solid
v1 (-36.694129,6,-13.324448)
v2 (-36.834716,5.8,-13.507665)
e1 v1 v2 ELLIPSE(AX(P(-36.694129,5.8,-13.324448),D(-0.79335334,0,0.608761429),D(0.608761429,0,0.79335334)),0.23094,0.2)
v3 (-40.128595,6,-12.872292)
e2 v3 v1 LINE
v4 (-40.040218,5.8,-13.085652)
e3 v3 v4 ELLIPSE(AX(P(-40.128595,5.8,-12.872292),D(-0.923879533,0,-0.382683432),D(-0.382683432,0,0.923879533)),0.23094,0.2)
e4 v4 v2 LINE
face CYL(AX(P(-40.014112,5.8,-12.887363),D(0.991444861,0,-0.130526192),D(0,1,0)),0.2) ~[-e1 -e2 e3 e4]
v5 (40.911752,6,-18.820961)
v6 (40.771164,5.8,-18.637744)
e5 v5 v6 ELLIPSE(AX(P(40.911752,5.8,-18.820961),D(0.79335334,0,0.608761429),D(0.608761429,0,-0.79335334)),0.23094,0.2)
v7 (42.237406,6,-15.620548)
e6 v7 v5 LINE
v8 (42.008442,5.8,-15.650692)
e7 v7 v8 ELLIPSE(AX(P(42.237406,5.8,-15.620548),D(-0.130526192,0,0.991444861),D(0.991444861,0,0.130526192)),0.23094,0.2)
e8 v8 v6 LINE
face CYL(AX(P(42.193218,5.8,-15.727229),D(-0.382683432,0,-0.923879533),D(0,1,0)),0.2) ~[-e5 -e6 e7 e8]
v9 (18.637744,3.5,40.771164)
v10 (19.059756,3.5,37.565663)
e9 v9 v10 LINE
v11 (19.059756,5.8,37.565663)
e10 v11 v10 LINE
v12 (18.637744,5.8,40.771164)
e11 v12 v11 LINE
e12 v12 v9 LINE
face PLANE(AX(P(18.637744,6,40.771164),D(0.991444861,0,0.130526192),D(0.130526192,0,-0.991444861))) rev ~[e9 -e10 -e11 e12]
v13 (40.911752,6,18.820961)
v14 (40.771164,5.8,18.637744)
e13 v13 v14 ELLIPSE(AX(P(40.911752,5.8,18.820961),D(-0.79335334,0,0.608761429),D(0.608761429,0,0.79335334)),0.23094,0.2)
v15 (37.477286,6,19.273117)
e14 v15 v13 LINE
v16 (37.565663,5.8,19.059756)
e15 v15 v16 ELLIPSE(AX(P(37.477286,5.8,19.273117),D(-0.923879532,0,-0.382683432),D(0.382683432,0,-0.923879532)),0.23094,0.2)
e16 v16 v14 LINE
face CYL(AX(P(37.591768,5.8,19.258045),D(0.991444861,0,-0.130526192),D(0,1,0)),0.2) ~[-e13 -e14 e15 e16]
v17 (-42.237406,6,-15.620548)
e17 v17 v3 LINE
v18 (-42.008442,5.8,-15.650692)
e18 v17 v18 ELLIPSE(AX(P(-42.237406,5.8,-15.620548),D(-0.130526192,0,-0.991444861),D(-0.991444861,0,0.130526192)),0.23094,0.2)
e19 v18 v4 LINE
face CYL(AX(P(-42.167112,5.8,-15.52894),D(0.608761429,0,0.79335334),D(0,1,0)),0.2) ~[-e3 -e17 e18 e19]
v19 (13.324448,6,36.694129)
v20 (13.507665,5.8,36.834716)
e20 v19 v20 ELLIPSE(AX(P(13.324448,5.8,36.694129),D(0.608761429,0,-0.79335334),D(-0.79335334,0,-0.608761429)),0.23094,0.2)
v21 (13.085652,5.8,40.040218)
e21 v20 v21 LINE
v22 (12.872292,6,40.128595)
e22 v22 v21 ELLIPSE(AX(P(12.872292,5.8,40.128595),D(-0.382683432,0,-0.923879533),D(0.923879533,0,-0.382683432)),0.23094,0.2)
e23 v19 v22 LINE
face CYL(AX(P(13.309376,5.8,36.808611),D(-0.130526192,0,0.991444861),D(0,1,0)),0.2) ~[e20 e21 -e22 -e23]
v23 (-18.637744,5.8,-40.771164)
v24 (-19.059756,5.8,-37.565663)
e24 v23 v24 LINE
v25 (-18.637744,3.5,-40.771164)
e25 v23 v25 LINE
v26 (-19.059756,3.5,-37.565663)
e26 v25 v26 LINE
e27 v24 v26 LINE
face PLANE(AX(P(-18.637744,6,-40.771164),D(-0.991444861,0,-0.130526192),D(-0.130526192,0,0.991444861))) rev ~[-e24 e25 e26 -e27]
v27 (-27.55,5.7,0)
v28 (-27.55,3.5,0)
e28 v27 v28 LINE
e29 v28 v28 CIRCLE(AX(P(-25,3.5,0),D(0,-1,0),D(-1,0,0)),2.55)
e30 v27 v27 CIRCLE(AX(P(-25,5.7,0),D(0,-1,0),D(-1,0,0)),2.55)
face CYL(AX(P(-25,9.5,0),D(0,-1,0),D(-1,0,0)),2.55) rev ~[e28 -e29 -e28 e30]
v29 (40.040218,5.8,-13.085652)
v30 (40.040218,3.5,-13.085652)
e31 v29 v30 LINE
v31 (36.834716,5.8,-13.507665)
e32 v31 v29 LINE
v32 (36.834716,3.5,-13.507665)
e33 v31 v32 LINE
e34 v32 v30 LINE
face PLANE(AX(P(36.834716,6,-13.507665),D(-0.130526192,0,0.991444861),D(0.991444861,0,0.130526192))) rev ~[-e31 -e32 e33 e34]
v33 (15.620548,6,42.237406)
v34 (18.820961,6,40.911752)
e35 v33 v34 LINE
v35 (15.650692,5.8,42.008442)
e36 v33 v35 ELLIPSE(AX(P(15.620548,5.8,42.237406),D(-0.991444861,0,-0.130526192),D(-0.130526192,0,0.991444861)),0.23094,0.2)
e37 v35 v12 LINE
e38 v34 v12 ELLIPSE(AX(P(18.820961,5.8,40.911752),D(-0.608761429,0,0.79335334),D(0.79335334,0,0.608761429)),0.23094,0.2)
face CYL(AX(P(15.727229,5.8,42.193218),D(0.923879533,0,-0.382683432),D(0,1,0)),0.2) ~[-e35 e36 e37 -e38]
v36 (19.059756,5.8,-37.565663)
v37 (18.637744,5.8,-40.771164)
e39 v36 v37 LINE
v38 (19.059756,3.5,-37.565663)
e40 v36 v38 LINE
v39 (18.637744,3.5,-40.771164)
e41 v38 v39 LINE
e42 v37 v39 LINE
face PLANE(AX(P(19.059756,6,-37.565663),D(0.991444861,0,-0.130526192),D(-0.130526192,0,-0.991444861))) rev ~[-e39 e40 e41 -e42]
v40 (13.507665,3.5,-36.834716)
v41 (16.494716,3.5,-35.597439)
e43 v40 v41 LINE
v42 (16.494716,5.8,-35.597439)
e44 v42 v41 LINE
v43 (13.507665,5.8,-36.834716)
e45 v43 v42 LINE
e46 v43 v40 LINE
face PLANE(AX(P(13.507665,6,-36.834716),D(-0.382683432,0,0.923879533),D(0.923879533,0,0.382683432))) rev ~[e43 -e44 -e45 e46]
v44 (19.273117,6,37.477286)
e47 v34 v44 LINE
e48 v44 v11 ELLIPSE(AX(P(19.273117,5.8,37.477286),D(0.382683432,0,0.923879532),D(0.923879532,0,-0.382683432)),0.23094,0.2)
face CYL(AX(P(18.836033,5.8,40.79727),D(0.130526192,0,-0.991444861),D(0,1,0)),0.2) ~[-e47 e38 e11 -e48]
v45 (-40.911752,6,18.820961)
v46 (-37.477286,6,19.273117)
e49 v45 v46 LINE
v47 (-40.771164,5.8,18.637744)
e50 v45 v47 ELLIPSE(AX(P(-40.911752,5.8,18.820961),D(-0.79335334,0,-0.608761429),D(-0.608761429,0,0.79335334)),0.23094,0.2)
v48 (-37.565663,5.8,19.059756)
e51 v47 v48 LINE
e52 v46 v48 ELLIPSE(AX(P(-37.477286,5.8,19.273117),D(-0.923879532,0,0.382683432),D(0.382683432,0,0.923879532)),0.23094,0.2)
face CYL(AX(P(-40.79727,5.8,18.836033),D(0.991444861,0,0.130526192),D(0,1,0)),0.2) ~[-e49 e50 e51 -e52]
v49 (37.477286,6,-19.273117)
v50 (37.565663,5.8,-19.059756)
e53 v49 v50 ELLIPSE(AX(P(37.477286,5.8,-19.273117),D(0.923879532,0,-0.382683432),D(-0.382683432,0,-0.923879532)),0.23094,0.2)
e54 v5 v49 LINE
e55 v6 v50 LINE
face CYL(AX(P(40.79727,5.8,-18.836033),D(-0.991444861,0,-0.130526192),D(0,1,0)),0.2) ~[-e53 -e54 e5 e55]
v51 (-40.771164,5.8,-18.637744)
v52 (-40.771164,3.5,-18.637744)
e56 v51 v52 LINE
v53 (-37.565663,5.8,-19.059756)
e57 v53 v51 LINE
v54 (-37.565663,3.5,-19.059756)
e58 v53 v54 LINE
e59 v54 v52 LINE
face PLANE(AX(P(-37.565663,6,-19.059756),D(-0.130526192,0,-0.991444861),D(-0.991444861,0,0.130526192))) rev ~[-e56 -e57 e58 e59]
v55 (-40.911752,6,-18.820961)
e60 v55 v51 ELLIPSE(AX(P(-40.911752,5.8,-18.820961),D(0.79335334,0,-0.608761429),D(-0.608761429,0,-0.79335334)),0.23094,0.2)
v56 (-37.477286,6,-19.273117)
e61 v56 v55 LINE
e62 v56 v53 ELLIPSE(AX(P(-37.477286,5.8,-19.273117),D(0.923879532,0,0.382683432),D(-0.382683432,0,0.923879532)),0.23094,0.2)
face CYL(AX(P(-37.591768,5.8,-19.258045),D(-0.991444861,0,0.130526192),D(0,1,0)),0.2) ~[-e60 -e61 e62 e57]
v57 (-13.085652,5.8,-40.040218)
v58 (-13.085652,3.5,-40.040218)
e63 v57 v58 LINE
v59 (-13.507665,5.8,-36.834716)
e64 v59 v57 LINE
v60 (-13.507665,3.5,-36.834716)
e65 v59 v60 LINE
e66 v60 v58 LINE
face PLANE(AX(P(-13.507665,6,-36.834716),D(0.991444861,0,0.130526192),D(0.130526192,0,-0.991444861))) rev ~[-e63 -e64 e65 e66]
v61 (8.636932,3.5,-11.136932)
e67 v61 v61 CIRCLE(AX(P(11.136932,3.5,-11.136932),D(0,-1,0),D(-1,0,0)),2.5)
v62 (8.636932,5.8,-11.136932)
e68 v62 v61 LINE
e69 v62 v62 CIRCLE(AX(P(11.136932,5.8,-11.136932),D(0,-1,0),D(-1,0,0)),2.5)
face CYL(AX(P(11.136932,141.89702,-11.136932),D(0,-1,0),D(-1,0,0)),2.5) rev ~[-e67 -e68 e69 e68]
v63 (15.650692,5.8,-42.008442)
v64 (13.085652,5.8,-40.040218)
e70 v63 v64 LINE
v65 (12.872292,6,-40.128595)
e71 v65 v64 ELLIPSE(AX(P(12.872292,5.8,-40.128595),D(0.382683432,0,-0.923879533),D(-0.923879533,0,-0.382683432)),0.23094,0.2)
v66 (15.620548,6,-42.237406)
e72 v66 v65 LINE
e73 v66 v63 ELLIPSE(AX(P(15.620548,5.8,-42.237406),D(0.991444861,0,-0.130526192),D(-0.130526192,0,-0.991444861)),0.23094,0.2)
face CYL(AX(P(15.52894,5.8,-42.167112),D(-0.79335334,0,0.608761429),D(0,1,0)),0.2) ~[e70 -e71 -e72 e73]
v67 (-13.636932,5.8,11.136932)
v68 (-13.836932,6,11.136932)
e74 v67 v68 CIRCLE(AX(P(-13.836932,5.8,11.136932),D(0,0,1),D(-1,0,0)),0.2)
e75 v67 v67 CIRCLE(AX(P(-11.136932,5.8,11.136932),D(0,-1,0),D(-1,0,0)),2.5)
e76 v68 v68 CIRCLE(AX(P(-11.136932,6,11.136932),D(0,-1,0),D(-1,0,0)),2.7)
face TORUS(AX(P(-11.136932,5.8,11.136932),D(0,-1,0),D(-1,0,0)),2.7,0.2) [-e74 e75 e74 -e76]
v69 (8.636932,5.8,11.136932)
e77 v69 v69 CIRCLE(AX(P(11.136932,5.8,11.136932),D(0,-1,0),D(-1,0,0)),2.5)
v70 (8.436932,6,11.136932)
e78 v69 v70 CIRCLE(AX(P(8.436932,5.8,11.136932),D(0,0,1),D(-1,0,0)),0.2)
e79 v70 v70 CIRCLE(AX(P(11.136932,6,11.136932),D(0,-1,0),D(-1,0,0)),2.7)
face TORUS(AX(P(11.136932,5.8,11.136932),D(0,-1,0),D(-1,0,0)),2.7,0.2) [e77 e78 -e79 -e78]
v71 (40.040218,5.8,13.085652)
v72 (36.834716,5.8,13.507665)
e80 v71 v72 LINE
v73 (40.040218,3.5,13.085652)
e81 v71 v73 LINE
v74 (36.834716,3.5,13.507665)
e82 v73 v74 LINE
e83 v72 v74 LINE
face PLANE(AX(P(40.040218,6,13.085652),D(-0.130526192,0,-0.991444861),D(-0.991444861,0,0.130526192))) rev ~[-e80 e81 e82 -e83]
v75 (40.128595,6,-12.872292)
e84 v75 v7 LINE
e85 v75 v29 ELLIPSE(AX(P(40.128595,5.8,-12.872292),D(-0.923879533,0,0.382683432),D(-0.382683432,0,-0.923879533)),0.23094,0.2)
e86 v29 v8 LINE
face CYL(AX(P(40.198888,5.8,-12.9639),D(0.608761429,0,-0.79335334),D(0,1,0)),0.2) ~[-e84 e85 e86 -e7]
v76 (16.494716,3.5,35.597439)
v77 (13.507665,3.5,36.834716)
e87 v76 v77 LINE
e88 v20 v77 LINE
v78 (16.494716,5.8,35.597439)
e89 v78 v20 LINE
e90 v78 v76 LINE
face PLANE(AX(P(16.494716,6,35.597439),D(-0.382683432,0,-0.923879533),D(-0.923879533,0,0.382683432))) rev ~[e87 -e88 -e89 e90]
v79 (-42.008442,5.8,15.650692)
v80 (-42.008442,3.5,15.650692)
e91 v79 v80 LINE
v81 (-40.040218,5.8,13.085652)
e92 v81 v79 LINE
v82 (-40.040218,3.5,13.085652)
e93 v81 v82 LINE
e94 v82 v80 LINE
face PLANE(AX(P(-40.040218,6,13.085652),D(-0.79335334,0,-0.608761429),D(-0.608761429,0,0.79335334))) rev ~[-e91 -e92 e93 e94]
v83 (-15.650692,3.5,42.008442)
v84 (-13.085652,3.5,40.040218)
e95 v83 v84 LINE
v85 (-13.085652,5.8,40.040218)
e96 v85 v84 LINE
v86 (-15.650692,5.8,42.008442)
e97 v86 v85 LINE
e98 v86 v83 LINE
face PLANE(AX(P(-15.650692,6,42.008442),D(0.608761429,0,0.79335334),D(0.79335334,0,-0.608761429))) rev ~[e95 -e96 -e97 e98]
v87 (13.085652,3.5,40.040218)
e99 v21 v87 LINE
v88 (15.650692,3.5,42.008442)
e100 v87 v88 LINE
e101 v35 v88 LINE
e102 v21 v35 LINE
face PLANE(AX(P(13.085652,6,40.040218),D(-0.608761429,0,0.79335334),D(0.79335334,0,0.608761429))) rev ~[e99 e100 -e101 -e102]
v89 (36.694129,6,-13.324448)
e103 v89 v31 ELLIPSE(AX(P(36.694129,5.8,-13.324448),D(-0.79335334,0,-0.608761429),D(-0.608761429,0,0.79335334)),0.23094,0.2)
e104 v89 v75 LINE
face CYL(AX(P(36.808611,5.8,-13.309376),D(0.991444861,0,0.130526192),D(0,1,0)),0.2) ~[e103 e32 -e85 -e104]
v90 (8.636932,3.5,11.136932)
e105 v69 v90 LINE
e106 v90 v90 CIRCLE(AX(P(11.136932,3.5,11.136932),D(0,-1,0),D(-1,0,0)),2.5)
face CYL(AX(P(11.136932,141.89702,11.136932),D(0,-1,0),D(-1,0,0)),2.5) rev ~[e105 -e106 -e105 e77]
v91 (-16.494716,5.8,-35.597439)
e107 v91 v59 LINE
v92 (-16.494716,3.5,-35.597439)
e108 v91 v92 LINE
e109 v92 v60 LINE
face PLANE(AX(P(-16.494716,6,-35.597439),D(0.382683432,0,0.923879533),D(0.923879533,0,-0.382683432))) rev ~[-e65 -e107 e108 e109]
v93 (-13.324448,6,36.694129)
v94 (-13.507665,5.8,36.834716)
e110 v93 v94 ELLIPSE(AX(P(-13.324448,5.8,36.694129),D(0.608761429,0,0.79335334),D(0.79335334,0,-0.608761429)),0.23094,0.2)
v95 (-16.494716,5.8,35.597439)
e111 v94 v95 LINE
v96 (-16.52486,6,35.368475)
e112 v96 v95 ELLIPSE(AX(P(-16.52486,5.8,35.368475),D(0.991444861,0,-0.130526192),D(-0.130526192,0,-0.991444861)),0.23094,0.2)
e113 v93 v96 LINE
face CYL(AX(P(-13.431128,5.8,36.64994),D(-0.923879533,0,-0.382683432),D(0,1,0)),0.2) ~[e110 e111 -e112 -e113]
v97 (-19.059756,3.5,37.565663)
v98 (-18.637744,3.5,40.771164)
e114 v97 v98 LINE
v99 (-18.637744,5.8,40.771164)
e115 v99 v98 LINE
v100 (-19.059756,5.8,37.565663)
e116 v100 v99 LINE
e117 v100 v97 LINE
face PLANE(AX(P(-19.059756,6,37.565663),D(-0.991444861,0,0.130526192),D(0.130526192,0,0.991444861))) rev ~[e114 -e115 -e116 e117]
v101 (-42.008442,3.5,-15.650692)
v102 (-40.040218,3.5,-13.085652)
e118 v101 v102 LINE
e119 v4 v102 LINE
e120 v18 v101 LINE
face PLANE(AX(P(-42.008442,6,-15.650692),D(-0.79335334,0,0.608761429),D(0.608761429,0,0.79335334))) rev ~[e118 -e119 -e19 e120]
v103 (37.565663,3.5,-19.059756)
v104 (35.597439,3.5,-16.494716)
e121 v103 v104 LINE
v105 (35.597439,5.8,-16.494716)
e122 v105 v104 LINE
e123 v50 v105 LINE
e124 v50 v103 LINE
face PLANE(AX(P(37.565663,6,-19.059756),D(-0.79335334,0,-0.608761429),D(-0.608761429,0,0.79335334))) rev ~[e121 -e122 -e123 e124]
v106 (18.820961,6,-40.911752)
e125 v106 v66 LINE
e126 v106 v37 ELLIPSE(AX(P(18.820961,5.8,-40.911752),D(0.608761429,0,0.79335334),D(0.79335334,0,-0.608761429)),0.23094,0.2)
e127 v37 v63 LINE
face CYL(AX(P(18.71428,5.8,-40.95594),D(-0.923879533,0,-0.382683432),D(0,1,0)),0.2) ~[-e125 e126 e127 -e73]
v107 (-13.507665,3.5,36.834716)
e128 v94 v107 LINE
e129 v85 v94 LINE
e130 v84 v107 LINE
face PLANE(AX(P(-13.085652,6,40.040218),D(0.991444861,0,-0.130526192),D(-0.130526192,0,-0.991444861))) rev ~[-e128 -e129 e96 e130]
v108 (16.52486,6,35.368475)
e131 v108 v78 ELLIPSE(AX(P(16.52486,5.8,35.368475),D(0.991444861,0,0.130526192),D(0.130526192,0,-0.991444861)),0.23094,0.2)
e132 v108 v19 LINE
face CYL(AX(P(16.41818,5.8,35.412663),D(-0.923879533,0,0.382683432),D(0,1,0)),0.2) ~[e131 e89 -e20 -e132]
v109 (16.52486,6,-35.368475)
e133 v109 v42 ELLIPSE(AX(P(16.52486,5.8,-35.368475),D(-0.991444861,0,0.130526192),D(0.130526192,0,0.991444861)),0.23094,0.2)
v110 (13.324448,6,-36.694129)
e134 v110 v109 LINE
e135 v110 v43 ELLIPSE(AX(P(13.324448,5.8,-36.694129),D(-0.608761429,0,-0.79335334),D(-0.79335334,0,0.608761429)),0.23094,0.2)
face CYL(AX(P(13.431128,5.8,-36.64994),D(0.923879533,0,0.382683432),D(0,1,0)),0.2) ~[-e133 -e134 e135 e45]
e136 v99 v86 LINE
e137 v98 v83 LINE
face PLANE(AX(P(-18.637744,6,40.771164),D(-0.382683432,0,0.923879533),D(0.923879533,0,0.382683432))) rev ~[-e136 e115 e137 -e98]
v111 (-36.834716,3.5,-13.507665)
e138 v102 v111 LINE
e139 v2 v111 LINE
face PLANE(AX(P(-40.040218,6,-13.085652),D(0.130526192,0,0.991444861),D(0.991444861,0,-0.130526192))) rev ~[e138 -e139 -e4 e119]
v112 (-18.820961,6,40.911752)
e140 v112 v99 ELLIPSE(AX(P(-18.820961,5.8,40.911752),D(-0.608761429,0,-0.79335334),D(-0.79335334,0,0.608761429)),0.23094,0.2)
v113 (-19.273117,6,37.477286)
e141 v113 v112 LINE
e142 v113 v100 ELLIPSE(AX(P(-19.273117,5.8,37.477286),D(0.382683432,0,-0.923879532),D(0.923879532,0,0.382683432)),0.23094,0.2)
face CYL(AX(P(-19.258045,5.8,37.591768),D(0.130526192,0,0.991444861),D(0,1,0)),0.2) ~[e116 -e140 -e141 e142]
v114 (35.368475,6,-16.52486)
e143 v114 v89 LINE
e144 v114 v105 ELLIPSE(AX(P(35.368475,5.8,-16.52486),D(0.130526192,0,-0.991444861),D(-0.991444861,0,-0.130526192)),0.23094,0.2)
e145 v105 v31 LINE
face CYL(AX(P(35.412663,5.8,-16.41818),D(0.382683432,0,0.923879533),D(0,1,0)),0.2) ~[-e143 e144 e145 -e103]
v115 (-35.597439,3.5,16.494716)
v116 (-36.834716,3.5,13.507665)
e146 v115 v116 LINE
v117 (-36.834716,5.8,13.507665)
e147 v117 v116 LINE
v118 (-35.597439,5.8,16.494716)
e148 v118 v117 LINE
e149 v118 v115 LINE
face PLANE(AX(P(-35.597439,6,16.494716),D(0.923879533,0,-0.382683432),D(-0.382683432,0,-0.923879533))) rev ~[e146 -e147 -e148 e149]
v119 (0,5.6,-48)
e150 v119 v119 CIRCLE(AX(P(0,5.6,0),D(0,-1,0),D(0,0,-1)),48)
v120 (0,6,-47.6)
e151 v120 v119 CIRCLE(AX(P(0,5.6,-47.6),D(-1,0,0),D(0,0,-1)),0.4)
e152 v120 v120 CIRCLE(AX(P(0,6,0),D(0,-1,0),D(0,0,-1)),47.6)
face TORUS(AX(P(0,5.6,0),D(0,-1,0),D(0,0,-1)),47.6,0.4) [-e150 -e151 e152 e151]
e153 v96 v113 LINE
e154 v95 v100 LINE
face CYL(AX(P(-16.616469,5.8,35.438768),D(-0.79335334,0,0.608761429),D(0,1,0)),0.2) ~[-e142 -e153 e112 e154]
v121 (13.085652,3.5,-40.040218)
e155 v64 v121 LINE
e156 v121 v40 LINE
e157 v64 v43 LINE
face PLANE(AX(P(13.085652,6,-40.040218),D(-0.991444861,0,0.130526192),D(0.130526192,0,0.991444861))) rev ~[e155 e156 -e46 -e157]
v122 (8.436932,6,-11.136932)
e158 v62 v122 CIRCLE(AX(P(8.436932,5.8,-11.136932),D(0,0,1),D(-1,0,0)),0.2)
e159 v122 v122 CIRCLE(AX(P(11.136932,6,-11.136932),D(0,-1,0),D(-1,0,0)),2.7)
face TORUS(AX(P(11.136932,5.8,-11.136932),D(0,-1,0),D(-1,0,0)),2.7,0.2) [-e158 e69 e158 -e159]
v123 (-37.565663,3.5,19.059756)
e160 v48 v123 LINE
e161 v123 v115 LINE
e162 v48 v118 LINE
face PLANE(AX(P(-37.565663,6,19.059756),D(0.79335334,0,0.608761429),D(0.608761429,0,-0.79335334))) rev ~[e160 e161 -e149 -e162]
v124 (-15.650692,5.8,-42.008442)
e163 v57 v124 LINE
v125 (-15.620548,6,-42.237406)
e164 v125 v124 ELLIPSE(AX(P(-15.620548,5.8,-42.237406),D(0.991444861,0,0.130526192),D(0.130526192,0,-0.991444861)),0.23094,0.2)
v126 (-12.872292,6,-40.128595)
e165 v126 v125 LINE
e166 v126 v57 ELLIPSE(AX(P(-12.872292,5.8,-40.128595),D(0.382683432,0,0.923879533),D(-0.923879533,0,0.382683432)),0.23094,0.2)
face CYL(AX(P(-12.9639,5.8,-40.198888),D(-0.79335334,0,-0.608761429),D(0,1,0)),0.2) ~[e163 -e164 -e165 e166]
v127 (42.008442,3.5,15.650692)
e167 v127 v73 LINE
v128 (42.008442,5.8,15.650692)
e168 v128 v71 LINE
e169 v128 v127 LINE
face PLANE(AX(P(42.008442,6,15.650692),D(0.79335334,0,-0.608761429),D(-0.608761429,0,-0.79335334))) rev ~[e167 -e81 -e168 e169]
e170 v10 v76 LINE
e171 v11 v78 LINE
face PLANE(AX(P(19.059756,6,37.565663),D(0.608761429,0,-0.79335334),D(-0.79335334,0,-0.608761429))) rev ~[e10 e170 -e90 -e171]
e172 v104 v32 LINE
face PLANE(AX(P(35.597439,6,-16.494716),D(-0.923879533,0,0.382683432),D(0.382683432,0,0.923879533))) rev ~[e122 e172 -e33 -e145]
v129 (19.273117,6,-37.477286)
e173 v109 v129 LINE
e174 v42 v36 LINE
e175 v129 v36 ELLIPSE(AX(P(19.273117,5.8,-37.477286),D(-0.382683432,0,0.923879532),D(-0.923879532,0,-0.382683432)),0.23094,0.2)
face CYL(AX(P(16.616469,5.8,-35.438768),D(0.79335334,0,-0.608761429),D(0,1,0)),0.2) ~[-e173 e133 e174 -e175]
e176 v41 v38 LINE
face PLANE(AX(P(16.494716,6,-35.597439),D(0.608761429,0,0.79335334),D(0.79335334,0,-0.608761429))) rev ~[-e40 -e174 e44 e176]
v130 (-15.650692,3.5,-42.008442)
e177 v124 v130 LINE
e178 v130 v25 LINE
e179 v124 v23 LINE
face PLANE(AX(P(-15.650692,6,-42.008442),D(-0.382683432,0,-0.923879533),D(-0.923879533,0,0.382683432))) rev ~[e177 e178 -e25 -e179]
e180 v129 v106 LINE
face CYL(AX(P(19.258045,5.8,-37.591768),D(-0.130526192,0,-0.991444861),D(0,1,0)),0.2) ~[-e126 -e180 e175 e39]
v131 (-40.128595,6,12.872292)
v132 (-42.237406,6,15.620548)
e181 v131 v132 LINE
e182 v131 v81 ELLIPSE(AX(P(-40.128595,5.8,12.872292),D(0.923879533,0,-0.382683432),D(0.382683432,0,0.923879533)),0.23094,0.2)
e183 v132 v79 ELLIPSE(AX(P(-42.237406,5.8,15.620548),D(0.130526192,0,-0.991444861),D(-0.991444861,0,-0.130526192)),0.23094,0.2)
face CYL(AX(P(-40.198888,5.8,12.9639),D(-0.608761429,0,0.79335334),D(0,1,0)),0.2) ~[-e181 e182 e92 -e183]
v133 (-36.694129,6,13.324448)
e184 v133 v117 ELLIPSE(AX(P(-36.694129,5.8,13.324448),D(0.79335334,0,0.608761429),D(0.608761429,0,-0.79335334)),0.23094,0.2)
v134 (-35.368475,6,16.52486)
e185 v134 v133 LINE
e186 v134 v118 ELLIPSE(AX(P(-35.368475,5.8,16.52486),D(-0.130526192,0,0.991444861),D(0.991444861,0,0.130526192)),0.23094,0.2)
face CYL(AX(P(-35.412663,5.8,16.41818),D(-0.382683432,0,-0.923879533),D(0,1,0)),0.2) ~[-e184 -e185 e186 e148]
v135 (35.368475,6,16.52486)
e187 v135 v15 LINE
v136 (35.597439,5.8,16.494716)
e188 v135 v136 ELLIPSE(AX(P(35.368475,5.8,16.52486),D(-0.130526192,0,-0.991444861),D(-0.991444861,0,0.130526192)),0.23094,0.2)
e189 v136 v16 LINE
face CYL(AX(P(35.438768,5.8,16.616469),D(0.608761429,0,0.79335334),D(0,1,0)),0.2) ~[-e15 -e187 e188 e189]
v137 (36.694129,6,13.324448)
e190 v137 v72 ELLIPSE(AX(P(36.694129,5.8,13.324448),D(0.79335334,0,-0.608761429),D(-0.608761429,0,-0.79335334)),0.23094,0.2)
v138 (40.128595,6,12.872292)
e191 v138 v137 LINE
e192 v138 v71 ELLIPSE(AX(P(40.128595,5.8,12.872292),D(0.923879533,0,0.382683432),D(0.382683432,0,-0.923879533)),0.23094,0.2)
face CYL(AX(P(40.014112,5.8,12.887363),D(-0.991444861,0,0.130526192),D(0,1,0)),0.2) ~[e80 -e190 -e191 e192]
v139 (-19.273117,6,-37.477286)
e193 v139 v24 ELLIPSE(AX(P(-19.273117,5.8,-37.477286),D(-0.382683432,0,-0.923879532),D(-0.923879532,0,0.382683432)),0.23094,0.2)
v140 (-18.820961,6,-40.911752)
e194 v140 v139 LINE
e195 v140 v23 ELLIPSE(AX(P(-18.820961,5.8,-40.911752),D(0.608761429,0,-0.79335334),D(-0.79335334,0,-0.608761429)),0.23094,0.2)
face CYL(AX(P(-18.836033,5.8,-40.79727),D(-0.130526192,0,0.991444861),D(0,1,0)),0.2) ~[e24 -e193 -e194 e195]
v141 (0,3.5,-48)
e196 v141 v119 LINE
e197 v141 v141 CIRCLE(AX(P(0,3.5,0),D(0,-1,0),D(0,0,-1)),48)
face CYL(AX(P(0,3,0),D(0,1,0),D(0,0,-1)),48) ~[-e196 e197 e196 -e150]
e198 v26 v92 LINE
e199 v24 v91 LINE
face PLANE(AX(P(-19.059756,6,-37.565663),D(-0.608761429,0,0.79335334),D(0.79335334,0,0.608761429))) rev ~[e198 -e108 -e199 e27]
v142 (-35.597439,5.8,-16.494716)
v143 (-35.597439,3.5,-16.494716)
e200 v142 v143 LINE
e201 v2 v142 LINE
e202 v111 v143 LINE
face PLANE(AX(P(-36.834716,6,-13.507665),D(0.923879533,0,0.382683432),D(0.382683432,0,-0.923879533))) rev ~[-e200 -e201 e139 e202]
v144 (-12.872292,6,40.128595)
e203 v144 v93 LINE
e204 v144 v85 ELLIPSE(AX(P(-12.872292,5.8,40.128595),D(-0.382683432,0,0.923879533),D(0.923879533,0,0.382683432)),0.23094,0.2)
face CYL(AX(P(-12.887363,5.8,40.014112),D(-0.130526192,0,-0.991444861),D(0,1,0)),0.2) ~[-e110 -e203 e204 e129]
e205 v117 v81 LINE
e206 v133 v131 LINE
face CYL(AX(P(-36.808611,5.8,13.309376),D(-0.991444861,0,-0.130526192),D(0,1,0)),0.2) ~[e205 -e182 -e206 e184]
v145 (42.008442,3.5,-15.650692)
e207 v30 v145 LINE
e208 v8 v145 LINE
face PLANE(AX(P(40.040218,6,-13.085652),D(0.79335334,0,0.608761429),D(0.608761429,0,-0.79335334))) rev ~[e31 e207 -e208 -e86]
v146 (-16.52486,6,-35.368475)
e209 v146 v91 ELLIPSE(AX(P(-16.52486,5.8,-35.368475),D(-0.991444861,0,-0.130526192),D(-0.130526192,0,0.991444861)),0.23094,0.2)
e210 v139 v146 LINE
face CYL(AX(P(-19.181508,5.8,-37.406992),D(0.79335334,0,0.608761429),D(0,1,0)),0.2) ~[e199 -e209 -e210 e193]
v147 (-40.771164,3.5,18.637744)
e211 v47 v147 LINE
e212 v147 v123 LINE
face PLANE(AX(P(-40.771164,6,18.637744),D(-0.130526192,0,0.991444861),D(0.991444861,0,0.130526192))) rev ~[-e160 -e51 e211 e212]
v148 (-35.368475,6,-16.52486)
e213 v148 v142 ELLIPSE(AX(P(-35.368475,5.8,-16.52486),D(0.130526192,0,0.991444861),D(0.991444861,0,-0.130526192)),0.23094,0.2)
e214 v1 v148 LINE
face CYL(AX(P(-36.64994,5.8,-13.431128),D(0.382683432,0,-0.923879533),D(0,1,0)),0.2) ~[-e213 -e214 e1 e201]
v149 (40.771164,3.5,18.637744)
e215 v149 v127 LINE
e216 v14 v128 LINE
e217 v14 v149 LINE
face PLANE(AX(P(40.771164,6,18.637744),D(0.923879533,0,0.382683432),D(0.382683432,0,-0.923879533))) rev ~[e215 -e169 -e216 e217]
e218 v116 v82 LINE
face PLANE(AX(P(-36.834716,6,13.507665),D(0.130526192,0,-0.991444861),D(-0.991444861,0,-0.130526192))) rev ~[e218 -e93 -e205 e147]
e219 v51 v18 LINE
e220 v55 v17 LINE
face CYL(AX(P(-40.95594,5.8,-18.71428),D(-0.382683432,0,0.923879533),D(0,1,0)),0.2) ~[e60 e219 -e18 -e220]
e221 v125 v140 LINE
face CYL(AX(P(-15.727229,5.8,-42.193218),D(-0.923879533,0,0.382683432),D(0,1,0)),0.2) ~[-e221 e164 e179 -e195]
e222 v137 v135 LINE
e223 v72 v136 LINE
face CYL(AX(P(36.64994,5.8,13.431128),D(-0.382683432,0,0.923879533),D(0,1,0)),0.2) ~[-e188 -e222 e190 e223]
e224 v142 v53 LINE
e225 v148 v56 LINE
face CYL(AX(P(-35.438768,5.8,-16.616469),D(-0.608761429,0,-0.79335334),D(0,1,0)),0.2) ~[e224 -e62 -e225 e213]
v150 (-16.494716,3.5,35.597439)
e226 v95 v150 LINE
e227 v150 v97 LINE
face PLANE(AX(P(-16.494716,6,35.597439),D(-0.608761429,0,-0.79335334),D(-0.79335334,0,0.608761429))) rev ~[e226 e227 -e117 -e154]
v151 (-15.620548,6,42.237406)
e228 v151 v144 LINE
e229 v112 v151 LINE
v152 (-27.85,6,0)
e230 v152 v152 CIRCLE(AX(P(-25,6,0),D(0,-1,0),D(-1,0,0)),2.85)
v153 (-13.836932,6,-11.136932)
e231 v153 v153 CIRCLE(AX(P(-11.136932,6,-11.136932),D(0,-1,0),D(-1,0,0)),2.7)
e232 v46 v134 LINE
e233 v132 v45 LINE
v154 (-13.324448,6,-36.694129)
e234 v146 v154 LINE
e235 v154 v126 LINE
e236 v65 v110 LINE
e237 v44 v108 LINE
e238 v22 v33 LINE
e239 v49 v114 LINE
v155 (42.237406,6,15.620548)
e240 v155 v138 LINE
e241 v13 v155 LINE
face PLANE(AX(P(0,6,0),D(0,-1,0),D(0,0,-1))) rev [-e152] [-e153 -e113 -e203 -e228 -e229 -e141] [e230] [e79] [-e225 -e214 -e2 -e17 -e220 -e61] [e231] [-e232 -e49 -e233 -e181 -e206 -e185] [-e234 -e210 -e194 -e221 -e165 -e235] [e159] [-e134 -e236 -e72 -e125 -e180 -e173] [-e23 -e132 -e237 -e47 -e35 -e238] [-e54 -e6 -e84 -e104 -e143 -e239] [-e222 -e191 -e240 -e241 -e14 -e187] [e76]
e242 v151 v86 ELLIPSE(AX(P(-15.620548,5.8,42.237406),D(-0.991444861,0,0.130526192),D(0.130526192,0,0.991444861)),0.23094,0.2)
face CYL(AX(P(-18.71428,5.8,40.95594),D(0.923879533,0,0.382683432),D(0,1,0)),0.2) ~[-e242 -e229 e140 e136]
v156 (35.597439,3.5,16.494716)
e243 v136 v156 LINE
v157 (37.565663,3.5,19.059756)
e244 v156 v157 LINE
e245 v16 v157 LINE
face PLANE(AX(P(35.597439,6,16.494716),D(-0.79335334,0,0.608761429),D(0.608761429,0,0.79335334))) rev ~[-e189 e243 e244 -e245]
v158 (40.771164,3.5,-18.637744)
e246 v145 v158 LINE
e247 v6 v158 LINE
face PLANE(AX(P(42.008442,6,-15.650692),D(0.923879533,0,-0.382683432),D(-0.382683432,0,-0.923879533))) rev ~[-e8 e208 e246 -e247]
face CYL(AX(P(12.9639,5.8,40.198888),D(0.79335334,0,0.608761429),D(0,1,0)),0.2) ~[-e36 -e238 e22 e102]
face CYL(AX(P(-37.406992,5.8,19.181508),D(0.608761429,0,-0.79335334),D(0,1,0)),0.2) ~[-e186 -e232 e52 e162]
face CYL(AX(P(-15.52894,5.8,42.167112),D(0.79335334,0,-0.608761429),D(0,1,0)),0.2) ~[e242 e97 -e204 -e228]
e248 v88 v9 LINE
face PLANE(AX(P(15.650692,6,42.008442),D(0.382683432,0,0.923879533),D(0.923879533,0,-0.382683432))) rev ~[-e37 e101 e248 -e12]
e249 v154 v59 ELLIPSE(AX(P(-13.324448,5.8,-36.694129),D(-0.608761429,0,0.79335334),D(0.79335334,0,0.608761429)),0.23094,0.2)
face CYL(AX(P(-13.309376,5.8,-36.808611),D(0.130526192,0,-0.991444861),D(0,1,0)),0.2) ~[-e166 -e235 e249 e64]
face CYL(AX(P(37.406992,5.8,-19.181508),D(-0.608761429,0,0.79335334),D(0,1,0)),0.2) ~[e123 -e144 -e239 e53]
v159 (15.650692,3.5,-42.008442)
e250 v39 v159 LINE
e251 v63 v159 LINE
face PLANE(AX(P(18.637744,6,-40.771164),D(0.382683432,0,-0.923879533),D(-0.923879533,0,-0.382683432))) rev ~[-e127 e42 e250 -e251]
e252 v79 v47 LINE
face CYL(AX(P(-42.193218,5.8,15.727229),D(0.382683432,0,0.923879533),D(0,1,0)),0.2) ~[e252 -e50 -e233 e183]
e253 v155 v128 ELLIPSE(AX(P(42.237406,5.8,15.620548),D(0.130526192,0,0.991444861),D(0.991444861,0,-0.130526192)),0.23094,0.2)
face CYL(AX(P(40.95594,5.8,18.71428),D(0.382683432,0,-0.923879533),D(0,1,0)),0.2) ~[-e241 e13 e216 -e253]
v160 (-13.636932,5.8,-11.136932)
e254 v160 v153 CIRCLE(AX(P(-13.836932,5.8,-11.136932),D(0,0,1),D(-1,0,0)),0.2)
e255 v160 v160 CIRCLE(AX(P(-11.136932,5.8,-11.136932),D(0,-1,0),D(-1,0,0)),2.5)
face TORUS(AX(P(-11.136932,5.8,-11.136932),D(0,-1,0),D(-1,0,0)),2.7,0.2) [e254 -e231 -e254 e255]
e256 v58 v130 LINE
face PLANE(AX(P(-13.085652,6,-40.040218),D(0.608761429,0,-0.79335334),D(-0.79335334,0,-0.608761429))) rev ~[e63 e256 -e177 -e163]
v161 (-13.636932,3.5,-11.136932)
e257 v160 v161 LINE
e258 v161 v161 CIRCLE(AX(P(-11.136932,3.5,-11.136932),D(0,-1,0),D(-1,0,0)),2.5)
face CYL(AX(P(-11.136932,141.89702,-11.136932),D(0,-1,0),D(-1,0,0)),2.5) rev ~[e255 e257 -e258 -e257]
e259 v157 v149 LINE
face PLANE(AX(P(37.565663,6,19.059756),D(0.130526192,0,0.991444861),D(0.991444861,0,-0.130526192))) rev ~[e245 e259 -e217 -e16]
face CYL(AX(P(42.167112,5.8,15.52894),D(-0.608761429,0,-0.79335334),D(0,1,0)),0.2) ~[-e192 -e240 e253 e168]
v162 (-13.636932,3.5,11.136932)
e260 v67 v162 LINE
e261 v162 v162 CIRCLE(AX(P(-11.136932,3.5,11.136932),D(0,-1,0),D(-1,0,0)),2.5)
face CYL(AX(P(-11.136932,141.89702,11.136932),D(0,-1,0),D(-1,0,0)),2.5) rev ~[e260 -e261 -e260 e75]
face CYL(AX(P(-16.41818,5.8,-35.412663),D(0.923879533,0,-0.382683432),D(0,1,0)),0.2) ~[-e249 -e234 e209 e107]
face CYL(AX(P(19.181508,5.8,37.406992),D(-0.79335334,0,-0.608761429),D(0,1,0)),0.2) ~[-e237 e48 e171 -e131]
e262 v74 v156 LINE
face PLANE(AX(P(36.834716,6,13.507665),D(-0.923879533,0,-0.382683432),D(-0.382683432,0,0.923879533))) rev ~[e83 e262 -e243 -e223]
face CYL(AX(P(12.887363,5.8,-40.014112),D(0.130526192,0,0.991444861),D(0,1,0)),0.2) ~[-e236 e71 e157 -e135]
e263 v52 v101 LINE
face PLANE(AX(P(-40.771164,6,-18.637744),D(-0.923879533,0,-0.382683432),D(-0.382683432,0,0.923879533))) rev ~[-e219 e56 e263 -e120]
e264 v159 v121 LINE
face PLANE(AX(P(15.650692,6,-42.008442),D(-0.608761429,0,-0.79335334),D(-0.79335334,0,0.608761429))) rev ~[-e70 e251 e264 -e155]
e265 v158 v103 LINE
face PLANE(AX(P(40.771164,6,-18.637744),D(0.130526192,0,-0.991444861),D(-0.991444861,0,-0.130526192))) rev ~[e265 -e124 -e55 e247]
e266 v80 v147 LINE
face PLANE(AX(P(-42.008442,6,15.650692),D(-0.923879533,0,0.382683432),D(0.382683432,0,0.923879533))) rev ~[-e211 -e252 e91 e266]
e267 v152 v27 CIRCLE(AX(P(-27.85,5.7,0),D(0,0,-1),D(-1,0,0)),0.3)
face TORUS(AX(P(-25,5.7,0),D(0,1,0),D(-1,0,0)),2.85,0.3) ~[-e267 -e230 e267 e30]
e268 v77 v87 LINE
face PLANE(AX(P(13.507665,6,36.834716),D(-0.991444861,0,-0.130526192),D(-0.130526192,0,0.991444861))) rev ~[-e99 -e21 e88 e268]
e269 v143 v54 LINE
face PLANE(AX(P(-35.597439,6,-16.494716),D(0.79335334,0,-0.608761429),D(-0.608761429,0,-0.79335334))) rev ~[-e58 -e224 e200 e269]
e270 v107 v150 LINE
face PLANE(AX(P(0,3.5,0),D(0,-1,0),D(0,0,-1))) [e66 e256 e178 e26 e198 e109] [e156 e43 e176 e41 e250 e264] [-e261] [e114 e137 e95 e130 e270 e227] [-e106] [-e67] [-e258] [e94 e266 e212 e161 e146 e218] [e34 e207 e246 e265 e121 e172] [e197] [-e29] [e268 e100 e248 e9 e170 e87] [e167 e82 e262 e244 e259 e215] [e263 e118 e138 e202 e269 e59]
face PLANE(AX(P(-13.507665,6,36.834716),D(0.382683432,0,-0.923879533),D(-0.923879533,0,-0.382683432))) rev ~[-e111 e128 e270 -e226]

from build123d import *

# Parameters (mm, degrees)
SKETCH_1_W                  = 48
SKETCH_1_H                  = 6
CUT_EXTRUDE_1_DEPTH         = 2.5
CUT_EXTRUDE_2_DEPTH         = 2.5
CUT_EXTRUDE_3_DEPTH         = 2.5
CUT_EXTRUDE_4_DEPTH         = 2.5
CUT_EXTRUDE_5_DEPTH         = 2.5
CUT_EXTRUDE_6_DEPTH         = 2.5
CUT_EXTRUDE_7_DEPTH         = 2.5
CUT_EXTRUDE_8_DEPTH         = 2.5
HOLE_WIZARD_5_0_5_1_D       = 5
HOLE_WIZARD_3_0_3_1_D       = 3
HOLE_WIZARD_5_1_5_1_1_D     = 5.1
HOLE_WIZARD_5_1_5_1_1_DEPTH = 3.5
FILLET_1_R                  = 0.2
FILLET_2_R                  = 0.3
FILLET_3_R                  = 0.4
CUT_EXTRUDE_START           = -3.5
SKETCH_16_R                 = 48
CUT_EXTRUDE_9_DEPTH         = 3.5


with BuildPart() as part:
    # 草图1 → 旋转1 (revolve)
    with BuildSketch(Plane.XY, mode=Mode.PRIVATE) as revolve_1_sk:
        with Locations((24, 3)):
            Rectangle(SKETCH_1_W, SKETCH_1_H)
    revolve(revolve_1_sk.sketch.rotate(Axis((0, 6, 0), (0, -1, 0)), 270), axis=Axis((0, 6, 0), (0, -1, 0)))

    # 草图2 → 切除-拉伸1 (cut)
    with BuildSketch(Plane(origin=(0, 6, 0), x_dir=(-1, 0, 0), z_dir=(0, 1, 0))):
        Polygon((42.008441728, 15.650691899), (40.771164385, 18.637743641), (37.565663022, 19.059755901), (35.597439003, 16.49471642), (36.834716346, 13.507664678), (40.040217709, 13.085652417), align=None)
    extrude(amount=-CUT_EXTRUDE_1_DEPTH, mode=Mode.SUBTRACT)

    # 草图3 → 切除-拉伸2 (cut)
    with BuildSketch(Plane(origin=(0, 6, 0), x_dir=(-1, 0, 0), z_dir=(0, 1, 0))):
        Polygon((18.637743641, 40.771164385), (15.650691899, 42.008441728), (13.085652417, 40.040217709), (13.507664678, 36.834716346), (16.49471642, 35.597439003), (19.059755901, 37.565663022), align=None)
    extrude(amount=-CUT_EXTRUDE_2_DEPTH, mode=Mode.SUBTRACT)

    # 草图4 → 切除-拉伸3 (cut)
    with BuildSketch(Plane(origin=(0, 6, 0), x_dir=(-1, 0, 0), z_dir=(0, 1, 0))):
        Polygon((-15.650691899, 42.008441728), (-18.637743641, 40.771164385), (-19.059755901, 37.565663022), (-16.49471642, 35.597439003), (-13.507664678, 36.834716346), (-13.085652417, 40.040217709), align=None)
    extrude(amount=-CUT_EXTRUDE_3_DEPTH, mode=Mode.SUBTRACT)

    # 草图5 → 切除-拉伸4 (cut)
    with BuildSketch(Plane(origin=(0, 6, 0), x_dir=(-1, 0, 0), z_dir=(0, 1, 0))):
        Polygon((-40.771164385, 18.637743641), (-42.008441728, 15.650691899), (-40.040217709, 13.085652417), (-36.834716346, 13.507664678), (-35.597439003, 16.49471642), (-37.565663022, 19.059755901), align=None)
    extrude(amount=-CUT_EXTRUDE_4_DEPTH, mode=Mode.SUBTRACT)

    # 草图6 → 切除-拉伸5 (cut)
    with BuildSketch(Plane(origin=(0, 6, 0), x_dir=(-1, 0, 0), z_dir=(0, 1, 0))):
        Polygon((-42.008441728, -15.650691899), (-40.771164385, -18.637743641), (-37.565663022, -19.059755901), (-35.597439003, -16.49471642), (-36.834716346, -13.507664678), (-40.040217709, -13.085652417), align=None)
    extrude(amount=-CUT_EXTRUDE_5_DEPTH, mode=Mode.SUBTRACT)

    # 草图7 → 切除-拉伸6 (cut)
    with BuildSketch(Plane(origin=(0, 6, 0), x_dir=(-1, 0, 0), z_dir=(0, 1, 0))):
        Polygon((-18.637743641, -40.771164385), (-15.650691899, -42.008441728), (-13.085652417, -40.040217709), (-13.507664678, -36.834716346), (-16.49471642, -35.597439003), (-19.059755901, -37.565663022), align=None)
    extrude(amount=-CUT_EXTRUDE_6_DEPTH, mode=Mode.SUBTRACT)

    # 草图8 → 切除-拉伸7 (cut)
    with BuildSketch(Plane(origin=(0, 6, 0), x_dir=(-1, 0, 0), z_dir=(0, 1, 0))):
        Polygon((15.650691899, -42.008441728), (18.637743641, -40.771164385), (19.059755901, -37.565663022), (16.49471642, -35.597439003), (13.507664678, -36.834716346), (13.085652417, -40.040217709), align=None)
    extrude(amount=-CUT_EXTRUDE_7_DEPTH, mode=Mode.SUBTRACT)

    # 草图9 → 切除-拉伸8 (cut)
    with BuildSketch(Plane(origin=(0, 6, 0), x_dir=(-1, 0, 0), z_dir=(0, 1, 0))):
        Polygon((40.771164385, -18.637743641), (42.008441728, -15.650691899), (40.040217709, -13.085652417), (36.834716346, -13.507664678), (35.597439003, -16.49471642), (37.565663022, -19.059755901), align=None)
    extrude(amount=-CUT_EXTRUDE_8_DEPTH, mode=Mode.SUBTRACT)

    # Ø5.0 (5) 直径孔1 (through all)
    with Locations(Plane(origin=(0, 6, 0), x_dir=(1, 0, 0), z_dir=(0, 1, 0))):
        with Locations((11.136931804, 11.136931804), (11.136931804, -11.136931804), (-11.136931804, -11.136931804), (-11.136931804, 11.136931804)):
            Hole(HOLE_WIZARD_5_0_5_1_D / 2)

    # Ø3.0 (3) 直径孔1 (through all)
    with Locations(Plane(origin=(0, 3.5, 0), x_dir=(1, 0, 0), z_dir=(0, 1, 0))):
        with Locations((-38.802940365, -16.072704159), (-16.072704159, -38.802940365), (16.072704159, -38.802940365), (38.802940365, -16.072704159), (38.802940365, 16.072704159), (16.072704159, 38.802940365), (-16.072704159, 38.802940365), (-38.802940365, 16.072704159)):
            Hole(HOLE_WIZARD_3_0_3_1_D / 2)

    # Ø5.1 (5.1) 直径孔1
    with Locations(Plane(origin=(0, 6, 0), x_dir=(1, 0, 0), z_dir=(0, 1, 0))):
        with Locations((-25, 0)):
            Hole(HOLE_WIZARD_5_1_5_1_1_D / 2, depth=HOLE_WIZARD_5_1_5_1_1_DEPTH)

    # 圆角1
    fillet_1_edges = [part.edges().sort_by_distance(p)[0] for p in [
        (18.848749771, 6, -39.168413704),
        (17.14421777, 6, -41.389803057),
        (14.368172158, 6, -41.024329718),
        (13.296658547, 6, -38.437467027),
        (15.001190549, 6, -36.216077674),
        (17.777236161, 6, -36.581551013),
        (-14.368172158, 6, -41.024329718),
        (-17.14421777, 6, -41.389803057),
        (-18.848749771, 6, -39.168413704),
        (-17.777236161, 6, -36.581551013),
        (-15.001190549, 6, -36.216077674),
        (-13.296658547, 6, -38.437467027),
        (-41.024329718, 6, 14.368172158),
        (-41.389803057, 6, 17.14421777),
        (-39.168413704, 6, 18.848749771),
        (-36.581551013, 6, 17.777236161),
        (-39.168413704, 6, -18.848749771),
        (-41.389803057, 6, -17.14421777),
        (-41.024329718, 6, -14.368172158),
        (-38.437467027, 6, -13.296658547),
        (-36.216077674, 6, -15.001190549),
        (-36.216077674, 6, 15.001190549),
        (-36.581551013, 6, -17.777236161),
        (-38.437467027, 6, 13.296658547),
        (-8.636931804, 6, -11.136931804),
        (-8.636931804, 6, 11.136931804),
        (13.636931804, 6, 11.136931804),
        (13.636931804, 6, -11.136931804),
        (-37.302940365, 3.5, -16.072704159),
        (-14.572704159, 3.5, -38.802940365),
        (17.572704159, 3.5, -38.802940365),
        (40.302940365, 3.5, -16.072704159),
        (40.302940365, 3.5, 16.072704159),
        (17.572704159, 3.5, 38.802940365),
        (-14.572704159, 3.5, 38.802940365),
        (-37.302940365, 3.5, 16.072704159),
        (-18.848749771, 6, 39.168413704),
        (-17.14421777, 6, 41.389803057),
        (-14.368172158, 6, 41.024329718),
        (-13.296658547, 6, 38.437467027),
        (-15.001190549, 6, 36.216077674),
        (-17.777236161, 6, 36.581551013),
        (14.368172158, 6, 41.024329718),
        (17.14421777, 6, 41.389803057),
        (18.848749771, 6, 39.168413704),
        (17.777236161, 6, 36.581551013),
        (15.001190549, 6, 36.216077674),
        (13.296658547, 6, 38.437467027),
        (39.168413704, 6, 18.848749771),
        (41.389803057, 6, 17.14421777),
        (41.024329718, 6, 14.368172158),
        (38.437467027, 6, 13.296658547),
        (36.216077674, 6, 15.001190549),
        (36.581551013, 6, 17.777236161),
        (41.024329718, 6, -14.368172158),
        (41.389803057, 6, -17.14421777),
        (39.168413704, 6, -18.848749771),
        (36.581551013, 6, -17.777236161),
        (36.216077674, 6, -15.001190549),
        (38.437467027, 6, -13.296658547),
    ]]
    fillet(fillet_1_edges, radius=FILLET_1_R)

    # 圆角2
    fillet_2_edges = [part.edges().sort_by_distance(p)[0] for p in [
        (-22.45, 6, 0),
    ]]
    fillet(fillet_2_edges, radius=FILLET_2_R)

    # 圆角3
    fillet_3_edges = [part.edges().sort_by_distance(p)[0] for p in [
        (0, 6, 48),
    ]]
    fillet(fillet_3_edges, radius=FILLET_3_R)

    # 草图16 → 切除-拉伸9 (cut)
    with BuildSketch(Plane.XZ.offset(CUT_EXTRUDE_START)):
        with Locations(Location((0, 0, 0), (0, 0, 270))):
            Circle(SKETCH_16_R)
    extrude(amount=CUT_EXTRUDE_9_DEPTH, mode=Mode.SUBTRACT)


solid = part.part
